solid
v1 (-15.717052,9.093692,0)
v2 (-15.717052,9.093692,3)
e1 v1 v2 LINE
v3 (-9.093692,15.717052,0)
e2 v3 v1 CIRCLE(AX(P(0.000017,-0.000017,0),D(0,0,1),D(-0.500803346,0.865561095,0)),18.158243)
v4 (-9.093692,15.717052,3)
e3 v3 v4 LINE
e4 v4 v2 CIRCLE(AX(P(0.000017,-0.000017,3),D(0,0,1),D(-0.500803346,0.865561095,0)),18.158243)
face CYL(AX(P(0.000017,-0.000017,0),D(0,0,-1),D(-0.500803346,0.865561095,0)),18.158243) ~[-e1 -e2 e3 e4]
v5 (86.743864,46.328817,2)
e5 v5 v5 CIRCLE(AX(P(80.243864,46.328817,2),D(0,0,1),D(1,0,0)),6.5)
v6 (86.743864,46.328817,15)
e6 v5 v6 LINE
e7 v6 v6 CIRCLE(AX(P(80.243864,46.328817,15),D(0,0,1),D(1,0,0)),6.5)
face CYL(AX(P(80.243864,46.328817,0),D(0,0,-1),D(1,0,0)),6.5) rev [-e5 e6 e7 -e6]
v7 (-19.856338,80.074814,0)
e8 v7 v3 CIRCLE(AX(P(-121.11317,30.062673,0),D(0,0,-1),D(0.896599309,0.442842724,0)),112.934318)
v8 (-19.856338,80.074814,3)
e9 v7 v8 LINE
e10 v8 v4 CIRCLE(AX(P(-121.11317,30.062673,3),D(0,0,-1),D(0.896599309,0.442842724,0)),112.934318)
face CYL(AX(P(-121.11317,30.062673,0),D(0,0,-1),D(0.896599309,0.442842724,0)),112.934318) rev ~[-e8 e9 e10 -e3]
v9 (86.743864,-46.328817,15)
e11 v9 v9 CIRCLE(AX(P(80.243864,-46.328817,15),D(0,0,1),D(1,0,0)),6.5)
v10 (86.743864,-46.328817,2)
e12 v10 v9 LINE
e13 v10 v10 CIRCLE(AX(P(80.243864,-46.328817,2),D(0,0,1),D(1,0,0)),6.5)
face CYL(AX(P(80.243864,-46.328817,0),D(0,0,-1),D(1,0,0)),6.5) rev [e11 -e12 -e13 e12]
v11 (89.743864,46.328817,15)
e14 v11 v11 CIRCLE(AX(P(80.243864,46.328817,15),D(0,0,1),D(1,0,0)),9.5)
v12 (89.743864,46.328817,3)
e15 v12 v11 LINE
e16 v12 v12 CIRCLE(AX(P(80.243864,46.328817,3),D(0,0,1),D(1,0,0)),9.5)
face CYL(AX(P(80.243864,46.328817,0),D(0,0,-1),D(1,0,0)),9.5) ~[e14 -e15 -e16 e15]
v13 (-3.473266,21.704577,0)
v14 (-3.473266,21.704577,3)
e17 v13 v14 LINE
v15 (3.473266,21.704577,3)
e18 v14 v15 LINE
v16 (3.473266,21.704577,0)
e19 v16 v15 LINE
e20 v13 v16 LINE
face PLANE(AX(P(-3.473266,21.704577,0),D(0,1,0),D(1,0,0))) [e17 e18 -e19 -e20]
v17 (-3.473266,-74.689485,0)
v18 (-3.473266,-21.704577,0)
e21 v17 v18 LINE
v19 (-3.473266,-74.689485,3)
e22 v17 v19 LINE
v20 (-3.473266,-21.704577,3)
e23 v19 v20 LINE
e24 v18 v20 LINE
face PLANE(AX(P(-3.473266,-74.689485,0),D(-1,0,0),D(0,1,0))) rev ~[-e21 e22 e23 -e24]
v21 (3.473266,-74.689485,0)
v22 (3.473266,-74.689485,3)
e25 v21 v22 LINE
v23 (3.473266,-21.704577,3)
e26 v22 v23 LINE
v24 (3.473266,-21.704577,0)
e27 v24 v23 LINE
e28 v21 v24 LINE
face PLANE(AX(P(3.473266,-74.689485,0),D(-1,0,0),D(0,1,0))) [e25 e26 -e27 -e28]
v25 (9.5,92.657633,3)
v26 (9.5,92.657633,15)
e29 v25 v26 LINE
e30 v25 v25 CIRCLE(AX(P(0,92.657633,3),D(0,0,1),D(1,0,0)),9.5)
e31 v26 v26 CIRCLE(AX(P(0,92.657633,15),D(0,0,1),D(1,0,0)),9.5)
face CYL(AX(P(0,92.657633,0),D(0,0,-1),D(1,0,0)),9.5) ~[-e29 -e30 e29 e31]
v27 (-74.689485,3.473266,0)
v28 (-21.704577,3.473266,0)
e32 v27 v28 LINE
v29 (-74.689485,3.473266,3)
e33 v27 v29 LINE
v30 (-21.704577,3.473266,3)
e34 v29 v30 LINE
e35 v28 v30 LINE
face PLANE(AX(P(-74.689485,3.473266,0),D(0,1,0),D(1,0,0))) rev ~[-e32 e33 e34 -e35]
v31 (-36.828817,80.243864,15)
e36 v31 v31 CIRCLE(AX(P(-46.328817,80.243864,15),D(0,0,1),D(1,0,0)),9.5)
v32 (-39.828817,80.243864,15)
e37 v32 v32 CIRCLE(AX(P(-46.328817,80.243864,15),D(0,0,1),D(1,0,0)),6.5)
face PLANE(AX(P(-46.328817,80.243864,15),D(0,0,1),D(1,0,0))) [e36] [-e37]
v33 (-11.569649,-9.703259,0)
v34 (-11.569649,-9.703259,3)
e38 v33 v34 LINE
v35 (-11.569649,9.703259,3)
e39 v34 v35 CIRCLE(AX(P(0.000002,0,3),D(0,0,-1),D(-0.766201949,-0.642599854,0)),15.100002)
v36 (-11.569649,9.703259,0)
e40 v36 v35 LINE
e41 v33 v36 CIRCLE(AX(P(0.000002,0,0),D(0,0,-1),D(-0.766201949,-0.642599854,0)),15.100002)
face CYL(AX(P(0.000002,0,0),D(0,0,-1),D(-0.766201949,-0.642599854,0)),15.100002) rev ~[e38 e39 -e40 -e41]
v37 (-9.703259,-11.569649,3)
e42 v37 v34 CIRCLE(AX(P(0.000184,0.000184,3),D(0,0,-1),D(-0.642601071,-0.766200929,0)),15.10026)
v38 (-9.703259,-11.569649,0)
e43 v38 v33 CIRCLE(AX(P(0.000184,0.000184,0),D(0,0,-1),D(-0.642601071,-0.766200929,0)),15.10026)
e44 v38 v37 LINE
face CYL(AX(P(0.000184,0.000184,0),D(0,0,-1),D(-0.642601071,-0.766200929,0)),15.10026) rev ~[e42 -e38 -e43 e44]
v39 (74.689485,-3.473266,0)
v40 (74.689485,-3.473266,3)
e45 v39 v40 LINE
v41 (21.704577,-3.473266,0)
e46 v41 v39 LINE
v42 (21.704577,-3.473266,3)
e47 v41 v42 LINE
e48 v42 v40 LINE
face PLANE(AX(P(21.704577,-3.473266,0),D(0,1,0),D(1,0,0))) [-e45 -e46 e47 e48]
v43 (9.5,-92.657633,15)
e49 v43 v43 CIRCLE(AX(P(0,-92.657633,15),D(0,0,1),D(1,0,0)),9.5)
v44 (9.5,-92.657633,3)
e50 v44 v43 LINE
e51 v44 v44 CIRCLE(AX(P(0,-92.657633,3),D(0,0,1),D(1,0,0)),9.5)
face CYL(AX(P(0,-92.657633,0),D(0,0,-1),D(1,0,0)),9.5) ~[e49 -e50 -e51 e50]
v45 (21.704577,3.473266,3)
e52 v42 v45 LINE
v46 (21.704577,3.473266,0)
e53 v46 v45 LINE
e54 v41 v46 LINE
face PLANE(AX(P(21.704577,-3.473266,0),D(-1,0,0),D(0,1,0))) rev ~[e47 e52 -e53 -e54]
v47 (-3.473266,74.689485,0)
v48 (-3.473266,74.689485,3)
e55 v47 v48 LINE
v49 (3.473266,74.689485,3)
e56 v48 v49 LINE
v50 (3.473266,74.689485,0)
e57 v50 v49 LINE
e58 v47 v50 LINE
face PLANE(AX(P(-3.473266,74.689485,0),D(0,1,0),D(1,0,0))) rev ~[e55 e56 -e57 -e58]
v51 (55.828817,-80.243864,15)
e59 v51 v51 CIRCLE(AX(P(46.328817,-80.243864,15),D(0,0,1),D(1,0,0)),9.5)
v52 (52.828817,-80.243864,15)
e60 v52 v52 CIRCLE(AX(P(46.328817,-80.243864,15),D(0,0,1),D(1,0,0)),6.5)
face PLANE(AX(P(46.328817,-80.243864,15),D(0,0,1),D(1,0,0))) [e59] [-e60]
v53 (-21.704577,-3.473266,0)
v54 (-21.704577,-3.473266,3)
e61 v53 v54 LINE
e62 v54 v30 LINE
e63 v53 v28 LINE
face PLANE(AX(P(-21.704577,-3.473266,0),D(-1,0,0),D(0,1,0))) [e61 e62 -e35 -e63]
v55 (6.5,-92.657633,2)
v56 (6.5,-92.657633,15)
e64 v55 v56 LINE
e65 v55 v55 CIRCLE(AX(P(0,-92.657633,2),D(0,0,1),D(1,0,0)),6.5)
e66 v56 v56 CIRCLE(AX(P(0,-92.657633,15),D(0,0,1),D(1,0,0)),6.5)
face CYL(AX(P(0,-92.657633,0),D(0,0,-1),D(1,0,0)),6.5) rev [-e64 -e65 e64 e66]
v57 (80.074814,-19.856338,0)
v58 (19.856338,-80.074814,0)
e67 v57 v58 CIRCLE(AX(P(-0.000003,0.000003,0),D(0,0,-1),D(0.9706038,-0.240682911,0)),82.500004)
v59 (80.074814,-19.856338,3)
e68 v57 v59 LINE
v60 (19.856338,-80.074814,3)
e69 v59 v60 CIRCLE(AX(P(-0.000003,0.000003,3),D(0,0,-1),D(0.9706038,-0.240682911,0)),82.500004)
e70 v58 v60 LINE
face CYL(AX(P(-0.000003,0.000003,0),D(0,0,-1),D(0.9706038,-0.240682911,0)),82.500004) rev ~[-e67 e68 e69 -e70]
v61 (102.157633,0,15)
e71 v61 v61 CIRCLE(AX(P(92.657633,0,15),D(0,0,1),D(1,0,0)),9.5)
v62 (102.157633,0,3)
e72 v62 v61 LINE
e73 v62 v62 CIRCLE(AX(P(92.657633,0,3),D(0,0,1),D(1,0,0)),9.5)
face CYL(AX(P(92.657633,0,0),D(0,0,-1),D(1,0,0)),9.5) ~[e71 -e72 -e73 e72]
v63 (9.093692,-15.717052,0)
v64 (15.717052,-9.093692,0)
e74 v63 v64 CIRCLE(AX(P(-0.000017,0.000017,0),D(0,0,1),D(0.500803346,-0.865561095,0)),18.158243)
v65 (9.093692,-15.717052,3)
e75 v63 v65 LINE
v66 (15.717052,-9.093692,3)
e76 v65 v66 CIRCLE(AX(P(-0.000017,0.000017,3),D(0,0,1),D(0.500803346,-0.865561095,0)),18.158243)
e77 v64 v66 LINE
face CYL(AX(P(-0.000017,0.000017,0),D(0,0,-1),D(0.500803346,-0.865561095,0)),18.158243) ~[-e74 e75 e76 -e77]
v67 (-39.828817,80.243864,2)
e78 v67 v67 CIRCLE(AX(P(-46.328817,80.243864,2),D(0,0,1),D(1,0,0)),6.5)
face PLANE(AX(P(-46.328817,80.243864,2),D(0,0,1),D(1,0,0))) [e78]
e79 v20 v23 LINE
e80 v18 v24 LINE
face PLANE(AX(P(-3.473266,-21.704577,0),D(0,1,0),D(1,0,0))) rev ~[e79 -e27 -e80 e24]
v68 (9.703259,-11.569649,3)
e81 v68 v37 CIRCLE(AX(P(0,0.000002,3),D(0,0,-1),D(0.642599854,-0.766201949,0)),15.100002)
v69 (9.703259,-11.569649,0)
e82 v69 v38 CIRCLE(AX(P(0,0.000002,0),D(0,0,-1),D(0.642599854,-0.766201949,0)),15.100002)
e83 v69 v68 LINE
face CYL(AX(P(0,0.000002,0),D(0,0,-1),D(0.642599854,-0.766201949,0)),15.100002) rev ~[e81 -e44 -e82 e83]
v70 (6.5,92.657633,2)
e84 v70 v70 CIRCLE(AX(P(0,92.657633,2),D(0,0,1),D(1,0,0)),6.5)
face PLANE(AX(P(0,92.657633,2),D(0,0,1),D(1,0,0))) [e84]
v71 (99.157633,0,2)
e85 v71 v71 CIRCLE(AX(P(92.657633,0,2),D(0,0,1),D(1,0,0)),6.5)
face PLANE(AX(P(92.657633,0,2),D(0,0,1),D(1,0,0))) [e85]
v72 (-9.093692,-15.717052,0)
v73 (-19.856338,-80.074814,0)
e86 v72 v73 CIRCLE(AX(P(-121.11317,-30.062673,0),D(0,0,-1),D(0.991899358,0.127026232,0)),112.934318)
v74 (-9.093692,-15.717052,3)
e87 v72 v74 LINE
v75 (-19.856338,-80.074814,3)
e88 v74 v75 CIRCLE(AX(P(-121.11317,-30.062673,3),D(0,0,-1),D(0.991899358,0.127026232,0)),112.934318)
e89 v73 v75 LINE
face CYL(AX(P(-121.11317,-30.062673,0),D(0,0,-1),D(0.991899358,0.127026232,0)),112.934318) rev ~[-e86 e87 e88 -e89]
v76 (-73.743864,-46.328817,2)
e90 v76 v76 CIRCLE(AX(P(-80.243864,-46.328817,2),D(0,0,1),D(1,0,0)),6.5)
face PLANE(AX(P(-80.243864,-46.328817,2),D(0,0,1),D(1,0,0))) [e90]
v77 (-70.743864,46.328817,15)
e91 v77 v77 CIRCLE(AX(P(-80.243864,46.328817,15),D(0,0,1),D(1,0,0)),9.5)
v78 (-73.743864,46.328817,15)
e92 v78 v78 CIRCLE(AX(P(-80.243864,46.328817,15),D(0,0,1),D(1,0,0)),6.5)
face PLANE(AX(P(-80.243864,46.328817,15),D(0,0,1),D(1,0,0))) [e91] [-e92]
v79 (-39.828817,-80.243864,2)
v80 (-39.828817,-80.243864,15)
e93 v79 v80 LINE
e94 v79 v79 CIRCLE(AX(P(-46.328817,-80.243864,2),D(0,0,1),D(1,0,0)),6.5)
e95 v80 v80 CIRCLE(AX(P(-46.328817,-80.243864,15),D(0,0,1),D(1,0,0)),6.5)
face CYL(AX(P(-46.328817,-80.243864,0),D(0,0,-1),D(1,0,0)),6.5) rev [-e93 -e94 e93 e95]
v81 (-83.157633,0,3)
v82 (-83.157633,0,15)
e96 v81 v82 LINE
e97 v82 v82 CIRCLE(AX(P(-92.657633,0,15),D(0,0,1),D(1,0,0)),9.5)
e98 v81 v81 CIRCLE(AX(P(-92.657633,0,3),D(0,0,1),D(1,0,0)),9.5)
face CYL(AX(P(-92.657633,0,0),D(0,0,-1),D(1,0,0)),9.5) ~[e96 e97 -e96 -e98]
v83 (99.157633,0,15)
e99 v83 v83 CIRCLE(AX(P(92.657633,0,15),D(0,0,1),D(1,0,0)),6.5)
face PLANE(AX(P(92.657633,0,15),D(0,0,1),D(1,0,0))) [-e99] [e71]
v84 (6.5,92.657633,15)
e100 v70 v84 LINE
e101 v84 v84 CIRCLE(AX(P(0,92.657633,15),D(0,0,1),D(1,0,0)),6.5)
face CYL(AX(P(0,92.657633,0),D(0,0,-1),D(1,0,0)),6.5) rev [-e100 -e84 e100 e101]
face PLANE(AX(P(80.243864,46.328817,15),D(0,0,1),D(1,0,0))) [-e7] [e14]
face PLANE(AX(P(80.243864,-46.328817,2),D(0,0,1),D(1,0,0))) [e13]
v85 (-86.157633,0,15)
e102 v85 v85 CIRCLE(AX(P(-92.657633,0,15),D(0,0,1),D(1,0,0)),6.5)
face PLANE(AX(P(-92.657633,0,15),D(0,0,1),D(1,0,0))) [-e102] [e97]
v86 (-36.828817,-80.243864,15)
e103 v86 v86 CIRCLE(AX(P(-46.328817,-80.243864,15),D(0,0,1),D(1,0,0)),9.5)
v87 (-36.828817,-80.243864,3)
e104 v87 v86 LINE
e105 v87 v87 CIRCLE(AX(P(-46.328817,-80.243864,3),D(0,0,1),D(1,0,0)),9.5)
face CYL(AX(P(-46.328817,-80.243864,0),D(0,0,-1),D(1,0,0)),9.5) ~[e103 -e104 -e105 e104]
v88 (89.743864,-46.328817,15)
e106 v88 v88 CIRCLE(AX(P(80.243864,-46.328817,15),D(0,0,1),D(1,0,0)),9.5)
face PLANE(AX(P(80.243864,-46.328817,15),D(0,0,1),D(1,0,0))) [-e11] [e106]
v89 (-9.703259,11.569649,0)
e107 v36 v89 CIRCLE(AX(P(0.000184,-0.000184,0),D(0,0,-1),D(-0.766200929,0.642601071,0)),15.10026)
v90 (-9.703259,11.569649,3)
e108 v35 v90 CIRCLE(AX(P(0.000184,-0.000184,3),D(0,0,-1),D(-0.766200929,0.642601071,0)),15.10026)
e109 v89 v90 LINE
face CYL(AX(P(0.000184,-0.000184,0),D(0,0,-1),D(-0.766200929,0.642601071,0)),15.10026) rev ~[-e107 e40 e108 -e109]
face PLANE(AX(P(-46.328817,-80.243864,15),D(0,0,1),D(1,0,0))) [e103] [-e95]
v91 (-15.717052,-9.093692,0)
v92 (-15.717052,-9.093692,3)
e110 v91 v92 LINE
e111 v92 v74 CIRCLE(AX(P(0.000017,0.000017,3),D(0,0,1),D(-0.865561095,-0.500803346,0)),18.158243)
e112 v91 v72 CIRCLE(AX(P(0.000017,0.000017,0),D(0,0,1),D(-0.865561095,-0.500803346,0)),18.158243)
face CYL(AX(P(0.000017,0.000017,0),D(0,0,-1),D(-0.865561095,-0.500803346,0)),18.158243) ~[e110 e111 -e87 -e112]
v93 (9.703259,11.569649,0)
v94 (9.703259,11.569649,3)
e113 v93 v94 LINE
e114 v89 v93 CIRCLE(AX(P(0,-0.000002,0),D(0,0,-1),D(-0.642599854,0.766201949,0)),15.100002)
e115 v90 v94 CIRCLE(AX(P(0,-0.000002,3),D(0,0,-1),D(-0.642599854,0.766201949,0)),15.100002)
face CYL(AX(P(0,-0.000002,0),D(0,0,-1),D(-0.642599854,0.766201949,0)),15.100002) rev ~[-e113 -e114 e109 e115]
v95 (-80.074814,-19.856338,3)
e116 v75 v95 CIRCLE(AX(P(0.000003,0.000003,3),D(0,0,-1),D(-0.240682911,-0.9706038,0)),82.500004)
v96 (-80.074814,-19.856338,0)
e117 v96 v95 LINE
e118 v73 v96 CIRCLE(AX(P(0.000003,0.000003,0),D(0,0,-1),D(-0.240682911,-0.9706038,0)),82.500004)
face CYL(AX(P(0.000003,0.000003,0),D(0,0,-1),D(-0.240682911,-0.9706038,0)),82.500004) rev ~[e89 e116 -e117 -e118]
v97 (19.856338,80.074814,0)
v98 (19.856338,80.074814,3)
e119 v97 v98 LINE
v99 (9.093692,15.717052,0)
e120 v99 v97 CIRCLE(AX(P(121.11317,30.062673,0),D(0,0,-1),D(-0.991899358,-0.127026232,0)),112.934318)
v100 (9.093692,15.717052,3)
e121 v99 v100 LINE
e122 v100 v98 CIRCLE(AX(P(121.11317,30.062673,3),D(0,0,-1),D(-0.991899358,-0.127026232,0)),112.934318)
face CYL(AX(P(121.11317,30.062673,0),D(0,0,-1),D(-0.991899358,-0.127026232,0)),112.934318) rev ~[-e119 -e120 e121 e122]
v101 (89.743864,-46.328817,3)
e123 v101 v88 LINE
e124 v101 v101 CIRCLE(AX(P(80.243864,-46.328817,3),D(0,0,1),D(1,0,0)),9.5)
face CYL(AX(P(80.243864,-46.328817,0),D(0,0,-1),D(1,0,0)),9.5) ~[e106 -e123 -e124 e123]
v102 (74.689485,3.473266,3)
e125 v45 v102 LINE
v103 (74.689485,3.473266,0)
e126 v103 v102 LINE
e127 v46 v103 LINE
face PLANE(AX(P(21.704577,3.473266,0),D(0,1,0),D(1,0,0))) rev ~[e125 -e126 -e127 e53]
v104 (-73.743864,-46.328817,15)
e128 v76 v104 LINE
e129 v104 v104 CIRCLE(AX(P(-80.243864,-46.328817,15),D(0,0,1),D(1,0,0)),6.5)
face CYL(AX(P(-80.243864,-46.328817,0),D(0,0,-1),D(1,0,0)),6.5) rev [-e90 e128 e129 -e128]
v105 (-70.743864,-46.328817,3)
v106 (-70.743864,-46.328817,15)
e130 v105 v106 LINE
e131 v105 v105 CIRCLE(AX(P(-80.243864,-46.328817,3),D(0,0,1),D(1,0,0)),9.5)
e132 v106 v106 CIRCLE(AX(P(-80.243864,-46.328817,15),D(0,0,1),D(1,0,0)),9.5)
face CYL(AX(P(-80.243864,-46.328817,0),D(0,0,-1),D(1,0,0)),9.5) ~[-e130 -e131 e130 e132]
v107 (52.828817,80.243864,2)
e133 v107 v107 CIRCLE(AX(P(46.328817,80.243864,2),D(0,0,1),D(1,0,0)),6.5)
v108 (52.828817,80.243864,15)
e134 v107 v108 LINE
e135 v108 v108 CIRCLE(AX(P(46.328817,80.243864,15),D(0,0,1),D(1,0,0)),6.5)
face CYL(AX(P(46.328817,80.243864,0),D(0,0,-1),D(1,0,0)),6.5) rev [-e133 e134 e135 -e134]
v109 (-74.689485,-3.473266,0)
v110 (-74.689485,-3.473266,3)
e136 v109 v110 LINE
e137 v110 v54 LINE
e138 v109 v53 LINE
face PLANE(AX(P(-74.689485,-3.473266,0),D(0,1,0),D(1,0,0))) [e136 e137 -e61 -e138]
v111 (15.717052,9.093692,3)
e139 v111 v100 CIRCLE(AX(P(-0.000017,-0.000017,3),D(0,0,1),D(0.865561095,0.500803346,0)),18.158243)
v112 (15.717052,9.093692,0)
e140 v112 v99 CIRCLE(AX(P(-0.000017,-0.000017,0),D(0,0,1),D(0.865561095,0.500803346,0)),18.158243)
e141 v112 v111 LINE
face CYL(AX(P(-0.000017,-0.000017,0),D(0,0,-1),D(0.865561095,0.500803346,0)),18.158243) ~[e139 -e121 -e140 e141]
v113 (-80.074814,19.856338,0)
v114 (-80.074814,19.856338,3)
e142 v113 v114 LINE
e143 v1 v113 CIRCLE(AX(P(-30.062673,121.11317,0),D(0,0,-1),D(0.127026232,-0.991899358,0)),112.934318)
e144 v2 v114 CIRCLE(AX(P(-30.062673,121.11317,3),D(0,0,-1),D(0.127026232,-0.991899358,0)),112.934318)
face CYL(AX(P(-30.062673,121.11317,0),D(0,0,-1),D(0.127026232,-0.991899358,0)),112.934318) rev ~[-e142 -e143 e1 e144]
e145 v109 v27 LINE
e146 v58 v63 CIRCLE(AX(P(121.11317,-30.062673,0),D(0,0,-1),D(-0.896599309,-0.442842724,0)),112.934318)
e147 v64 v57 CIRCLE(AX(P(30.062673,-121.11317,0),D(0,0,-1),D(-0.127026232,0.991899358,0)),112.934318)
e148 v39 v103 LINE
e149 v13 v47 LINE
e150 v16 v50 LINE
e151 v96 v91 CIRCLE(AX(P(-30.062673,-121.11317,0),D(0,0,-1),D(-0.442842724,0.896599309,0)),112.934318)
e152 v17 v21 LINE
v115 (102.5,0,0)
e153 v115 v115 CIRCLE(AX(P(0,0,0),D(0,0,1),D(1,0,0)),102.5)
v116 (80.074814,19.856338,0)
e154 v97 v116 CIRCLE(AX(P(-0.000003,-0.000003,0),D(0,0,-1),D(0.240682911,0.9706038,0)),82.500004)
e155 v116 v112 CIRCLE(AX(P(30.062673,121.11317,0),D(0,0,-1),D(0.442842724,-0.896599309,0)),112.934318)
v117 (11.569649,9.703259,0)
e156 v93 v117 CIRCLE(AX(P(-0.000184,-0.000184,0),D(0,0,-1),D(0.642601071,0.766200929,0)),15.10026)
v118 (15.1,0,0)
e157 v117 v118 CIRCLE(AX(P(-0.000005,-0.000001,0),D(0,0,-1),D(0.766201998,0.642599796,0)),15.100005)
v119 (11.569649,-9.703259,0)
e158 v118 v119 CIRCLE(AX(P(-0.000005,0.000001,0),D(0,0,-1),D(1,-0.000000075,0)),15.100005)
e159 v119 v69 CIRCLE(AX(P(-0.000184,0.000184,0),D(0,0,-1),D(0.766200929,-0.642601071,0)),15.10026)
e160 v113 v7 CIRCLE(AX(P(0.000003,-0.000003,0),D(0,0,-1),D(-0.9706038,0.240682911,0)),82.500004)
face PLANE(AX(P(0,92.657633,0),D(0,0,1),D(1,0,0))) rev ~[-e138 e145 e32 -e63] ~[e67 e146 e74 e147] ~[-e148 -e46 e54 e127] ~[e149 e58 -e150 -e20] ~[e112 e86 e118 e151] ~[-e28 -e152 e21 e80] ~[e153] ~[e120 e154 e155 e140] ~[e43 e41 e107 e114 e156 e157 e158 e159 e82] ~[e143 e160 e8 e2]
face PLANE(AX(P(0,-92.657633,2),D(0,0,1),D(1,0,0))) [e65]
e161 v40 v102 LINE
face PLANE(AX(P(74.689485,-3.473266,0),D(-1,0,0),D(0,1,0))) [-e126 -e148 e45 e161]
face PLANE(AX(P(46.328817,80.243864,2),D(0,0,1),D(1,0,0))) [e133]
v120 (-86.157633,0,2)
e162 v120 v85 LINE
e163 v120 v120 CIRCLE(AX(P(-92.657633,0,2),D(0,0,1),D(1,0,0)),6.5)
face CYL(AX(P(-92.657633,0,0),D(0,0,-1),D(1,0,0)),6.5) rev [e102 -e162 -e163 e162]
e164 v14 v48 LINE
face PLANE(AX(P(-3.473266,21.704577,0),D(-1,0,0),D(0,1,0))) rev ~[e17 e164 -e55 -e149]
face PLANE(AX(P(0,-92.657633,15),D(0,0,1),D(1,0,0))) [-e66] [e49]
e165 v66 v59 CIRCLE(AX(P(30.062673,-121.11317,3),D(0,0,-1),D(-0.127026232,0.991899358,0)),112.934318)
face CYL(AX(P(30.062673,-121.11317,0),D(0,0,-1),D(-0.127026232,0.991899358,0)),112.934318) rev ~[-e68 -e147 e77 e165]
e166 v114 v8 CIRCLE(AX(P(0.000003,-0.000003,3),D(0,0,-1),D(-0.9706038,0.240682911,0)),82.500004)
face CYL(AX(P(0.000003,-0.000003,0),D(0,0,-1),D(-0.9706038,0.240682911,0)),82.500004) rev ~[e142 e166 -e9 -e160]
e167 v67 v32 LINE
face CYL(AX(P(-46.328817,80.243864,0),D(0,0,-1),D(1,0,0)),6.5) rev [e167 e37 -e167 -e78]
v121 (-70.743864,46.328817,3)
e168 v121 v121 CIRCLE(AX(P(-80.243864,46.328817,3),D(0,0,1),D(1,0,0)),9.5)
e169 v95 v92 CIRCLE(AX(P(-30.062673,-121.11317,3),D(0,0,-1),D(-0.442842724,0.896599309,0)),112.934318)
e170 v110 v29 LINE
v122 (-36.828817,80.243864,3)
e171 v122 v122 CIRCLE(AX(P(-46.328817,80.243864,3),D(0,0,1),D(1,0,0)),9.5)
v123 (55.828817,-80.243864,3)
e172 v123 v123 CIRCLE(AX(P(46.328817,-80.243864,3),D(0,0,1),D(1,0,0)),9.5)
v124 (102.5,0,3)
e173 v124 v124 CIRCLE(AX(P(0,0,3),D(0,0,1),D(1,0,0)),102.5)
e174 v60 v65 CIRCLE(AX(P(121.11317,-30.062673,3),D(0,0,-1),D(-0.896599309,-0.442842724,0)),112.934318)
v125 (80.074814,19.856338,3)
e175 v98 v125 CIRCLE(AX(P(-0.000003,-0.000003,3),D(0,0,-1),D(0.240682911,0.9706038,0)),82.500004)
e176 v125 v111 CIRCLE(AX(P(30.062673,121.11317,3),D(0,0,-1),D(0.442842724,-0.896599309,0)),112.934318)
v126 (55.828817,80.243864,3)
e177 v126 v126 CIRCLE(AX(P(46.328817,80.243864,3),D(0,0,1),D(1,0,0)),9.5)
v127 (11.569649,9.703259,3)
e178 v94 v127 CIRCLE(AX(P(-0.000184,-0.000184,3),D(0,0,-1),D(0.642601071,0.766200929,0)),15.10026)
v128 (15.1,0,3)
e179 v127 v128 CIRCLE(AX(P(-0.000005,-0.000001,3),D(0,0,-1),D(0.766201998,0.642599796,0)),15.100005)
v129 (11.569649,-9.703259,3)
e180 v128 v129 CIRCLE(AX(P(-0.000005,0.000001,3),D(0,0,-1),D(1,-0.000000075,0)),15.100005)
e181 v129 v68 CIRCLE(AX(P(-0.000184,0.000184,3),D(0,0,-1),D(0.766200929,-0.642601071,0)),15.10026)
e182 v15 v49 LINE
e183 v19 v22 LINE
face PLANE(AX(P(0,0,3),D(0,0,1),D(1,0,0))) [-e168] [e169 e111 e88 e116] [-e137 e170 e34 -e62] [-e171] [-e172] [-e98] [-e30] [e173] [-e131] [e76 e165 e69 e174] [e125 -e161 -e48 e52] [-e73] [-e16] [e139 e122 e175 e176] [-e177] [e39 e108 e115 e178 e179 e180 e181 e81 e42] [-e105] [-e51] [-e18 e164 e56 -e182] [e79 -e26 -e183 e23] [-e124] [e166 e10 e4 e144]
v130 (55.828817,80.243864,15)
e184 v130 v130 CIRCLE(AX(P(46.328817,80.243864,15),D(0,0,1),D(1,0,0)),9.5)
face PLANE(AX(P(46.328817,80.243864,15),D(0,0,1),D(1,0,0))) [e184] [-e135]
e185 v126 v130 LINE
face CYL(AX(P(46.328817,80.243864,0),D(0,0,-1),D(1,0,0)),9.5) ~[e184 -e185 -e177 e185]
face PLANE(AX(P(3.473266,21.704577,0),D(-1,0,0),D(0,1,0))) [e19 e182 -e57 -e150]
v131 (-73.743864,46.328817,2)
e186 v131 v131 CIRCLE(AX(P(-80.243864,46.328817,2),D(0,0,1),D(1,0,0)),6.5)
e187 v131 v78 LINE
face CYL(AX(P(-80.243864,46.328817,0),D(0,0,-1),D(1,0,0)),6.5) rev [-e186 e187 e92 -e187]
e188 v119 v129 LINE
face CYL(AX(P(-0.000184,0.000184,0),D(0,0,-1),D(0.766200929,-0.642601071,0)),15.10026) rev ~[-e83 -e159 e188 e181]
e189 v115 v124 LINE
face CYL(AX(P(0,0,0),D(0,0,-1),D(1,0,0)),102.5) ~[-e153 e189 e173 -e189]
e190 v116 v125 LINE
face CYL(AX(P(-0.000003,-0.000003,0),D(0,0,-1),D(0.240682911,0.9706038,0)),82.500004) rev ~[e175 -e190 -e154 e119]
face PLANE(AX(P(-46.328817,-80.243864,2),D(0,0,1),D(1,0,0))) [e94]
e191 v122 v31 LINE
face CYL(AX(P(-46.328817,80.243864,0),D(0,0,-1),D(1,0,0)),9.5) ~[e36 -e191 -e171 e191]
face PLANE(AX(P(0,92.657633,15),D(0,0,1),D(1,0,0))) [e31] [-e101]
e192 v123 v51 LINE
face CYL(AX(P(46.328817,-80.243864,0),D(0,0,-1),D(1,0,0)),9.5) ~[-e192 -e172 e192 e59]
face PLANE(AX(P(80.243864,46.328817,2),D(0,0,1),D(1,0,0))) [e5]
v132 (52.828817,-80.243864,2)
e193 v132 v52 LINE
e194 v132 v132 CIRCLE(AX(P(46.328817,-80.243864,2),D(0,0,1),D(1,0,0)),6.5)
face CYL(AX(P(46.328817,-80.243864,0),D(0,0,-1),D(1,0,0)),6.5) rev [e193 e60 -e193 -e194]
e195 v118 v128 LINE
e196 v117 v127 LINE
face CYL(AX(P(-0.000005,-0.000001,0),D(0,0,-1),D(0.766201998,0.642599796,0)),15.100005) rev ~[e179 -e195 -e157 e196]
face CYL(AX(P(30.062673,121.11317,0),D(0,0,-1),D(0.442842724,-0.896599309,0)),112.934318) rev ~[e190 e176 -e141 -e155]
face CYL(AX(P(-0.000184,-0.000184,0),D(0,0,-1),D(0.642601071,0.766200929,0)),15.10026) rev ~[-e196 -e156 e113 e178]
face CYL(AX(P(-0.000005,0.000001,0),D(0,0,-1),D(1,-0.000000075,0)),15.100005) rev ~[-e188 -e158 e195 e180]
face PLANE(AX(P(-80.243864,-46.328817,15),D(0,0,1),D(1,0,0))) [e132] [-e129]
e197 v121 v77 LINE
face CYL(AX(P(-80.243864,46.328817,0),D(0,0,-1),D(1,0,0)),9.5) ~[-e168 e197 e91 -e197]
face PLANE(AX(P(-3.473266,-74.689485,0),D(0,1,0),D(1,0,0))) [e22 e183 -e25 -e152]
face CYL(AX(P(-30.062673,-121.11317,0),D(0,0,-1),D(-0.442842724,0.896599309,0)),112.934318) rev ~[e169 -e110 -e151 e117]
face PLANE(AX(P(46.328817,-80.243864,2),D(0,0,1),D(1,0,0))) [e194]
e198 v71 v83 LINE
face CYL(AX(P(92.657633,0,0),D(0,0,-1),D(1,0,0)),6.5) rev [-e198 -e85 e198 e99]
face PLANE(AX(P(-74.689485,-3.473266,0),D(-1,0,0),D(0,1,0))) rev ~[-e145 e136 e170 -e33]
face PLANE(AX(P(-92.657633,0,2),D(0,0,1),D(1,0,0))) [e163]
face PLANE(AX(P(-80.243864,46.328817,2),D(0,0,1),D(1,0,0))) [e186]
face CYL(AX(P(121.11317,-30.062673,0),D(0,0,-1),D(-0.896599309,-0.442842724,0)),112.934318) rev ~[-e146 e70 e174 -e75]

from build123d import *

# Parameters (mm, degrees)
F0_R     = 102.5
F0_R_2   = 9.5
F0_W     = 52.984908
F0_H     = 6.946532
F0_W_2   = 6.946532
F0_H_2   = 52.984908
F1_DEPTH = 3
F0_R_3   = 6.5
F2_DEPTH = 15
F3_DEPTH = 2


with BuildPart() as f1:
    # F0 (on Top) → F1 (new body)
    with BuildSketch(Plane.XY):
        Circle(F0_R)
        with Locations((-46.328817, -80.243864)):
            Circle(F0_R_2, mode=Mode.SUBTRACT)
        with Locations((-80.243864, -46.328817)):
            Circle(F0_R_2, mode=Mode.SUBTRACT)
        with Locations((0, -92.657633)):
            Circle(F0_R_2, mode=Mode.SUBTRACT)
        with Locations((46.328817, -80.243864)):
            Circle(F0_R_2, mode=Mode.SUBTRACT)
        with Locations((80.243864, -46.328817)):
            Circle(F0_R_2, mode=Mode.SUBTRACT)
        with Locations((-92.657633, 0)):
            Circle(F0_R_2, mode=Mode.SUBTRACT)
        with Locations((-80.243864, 46.328817)):
            Circle(F0_R_2, mode=Mode.SUBTRACT)
        with Locations((-46.328817, 80.243864)):
            Circle(F0_R_2, mode=Mode.SUBTRACT)
        with BuildLine():
            ThreePointArc((80.074814, 19.856338), (81.891459, 10.001946), (82.5, 0))
            ThreePointArc((82.5, 0), (81.891459, -10.001946), (80.074814, -19.856338))
            ThreePointArc((80.074814, -19.856338), (58.336309, -58.336309), (19.856338, -80.074814))
            ThreePointArc((19.856338, -80.074814), (0, -82.5), (-19.856338, -80.074814))
            ThreePointArc((-19.856338, -80.074814), (-58.336309, -58.336309), (-80.074814, -19.856338))
            ThreePointArc((-80.074814, -19.856338), (-82.5, 0), (-80.074814, 19.856338))
            ThreePointArc((-80.074814, 19.856338), (-58.336309, 58.336309), (-19.856338, 80.074814))
            ThreePointArc((-19.856338, 80.074814), (0, 82.5), (19.856338, 80.074814))
            ThreePointArc((19.856338, 80.074814), (58.336309, 58.336309), (80.074814, 19.856338))
        make_face(mode=Mode.SUBTRACT)
        with Locations((92.657633, 0)):
            Circle(F0_R_2, mode=Mode.SUBTRACT)
        with Locations((80.243864, 46.328817)):
            Circle(F0_R_2, mode=Mode.SUBTRACT)
        with Locations((0, 92.657633)):
            Circle(F0_R_2, mode=Mode.SUBTRACT)
        with Locations((46.328817, 80.243864)):
            Circle(F0_R_2, mode=Mode.SUBTRACT)
        with Locations((-48.197031, 0)):
            Rectangle(F0_W, F0_H)
        with BuildLine():
            ThreePointArc((-15.717052, 9.093692), (-48.690174, 9.725664), (-80.074814, 19.856338))
            ThreePointArc((-80.074814, 19.856338), (-82.5, 0), (-80.074814, -19.856338))
            ThreePointArc((-80.074814, -19.856338), (-48.690174, -9.725664), (-15.717052, -9.093692))
            ThreePointArc((-15.717052, -9.093692), (-18.15822, 0), (-15.717052, 9.093692))
        make_face()
        with Locations((-48.197031, 0)):
            Rectangle(F0_W, F0_H, mode=Mode.SUBTRACT)
        with BuildLine():
            ThreePointArc((-11.569649, 9.703259), (-13.640522, 9.379231), (-15.717052, 9.093692))
            ThreePointArc((-15.717052, 9.093692), (-18.15822, 0), (-15.717052, -9.093692))
            ThreePointArc((-15.717052, -9.093692), (-13.640522, -9.379231), (-11.569649, -9.703259))
            ThreePointArc((-11.569649, -9.703259), (-15.1, 0), (-11.569649, 9.703259))
        make_face()
        with BuildLine():
            ThreePointArc((-9.703259, 11.569649), (-9.379231, 13.640522), (-9.093692, 15.717052))
            ThreePointArc((-9.093692, 15.717052), (-12.8398, 12.8398), (-15.717052, 9.093692))
            ThreePointArc((-15.717052, 9.093692), (-13.640522, 9.379231), (-11.569649, 9.703259))
            ThreePointArc((-11.569649, 9.703259), (-10.677312, 10.677312), (-9.703259, 11.569649))
        make_face()
        with BuildLine():
            ThreePointArc((9.703259, 11.569649), (9.379231, 13.640522), (9.093692, 15.717052))
            ThreePointArc((9.093692, 15.717052), (0, 18.15822), (-9.093692, 15.717052))
            ThreePointArc((-9.093692, 15.717052), (-9.379231, 13.640522), (-9.703259, 11.569649))
            ThreePointArc((-9.703259, 11.569649), (0, 15.1), (9.703259, 11.569649))
        make_face()
        with BuildLine():
            ThreePointArc((11.569649, 9.703259), (13.640522, 9.379231), (15.717052, 9.093692))
            ThreePointArc((15.717052, 9.093692), (12.8398, 12.8398), (9.093692, 15.717052))
            ThreePointArc((9.093692, 15.717052), (9.379231, 13.640522), (9.703259, 11.569649))
            ThreePointArc((9.703259, 11.569649), (10.677312, 10.677312), (11.569649, 9.703259))
        make_face()
        with BuildLine():
            ThreePointArc((18.15822, 0), (17.537312, 4.707827), (15.717052, 9.093692))
            ThreePointArc((15.717052, 9.093692), (13.640522, 9.379231), (11.569649, 9.703259))
            ThreePointArc((11.569649, 9.703259), (14.189991, 5.162766), (15.1, 0))
            ThreePointArc((15.1, 0), (14.189991, -5.162766), (11.569649, -9.703259))
            ThreePointArc((11.569649, -9.703259), (13.640522, -9.379231), (15.717052, -9.093692))
            ThreePointArc((15.717052, -9.093692), (17.537312, -4.707827), (18.15822, 0))
        make_face()
        with BuildLine():
            ThreePointArc((80.074814, -19.856338), (81.891459, -10.001946), (82.5, 0))
            ThreePointArc((82.5, 0), (81.891459, 10.001946), (80.074814, 19.856338))
            ThreePointArc((80.074814, 19.856338), (48.690174, 9.725664), (15.717052, 9.093692))
            ThreePointArc((15.717052, 9.093692), (17.537312, 4.707827), (18.15822, 0))
            ThreePointArc((18.15822, 0), (17.537312, -4.707827), (15.717052, -9.093692))
            ThreePointArc((15.717052, -9.093692), (48.690174, -9.725664), (80.074814, -19.856338))
        make_face()
        with Locations((48.197031, 0)):
            Rectangle(F0_W, F0_H, mode=Mode.SUBTRACT)
        with BuildLine():
            ThreePointArc((-19.856338, -80.074814), (0, -82.5), (19.856338, -80.074814))
            ThreePointArc((19.856338, -80.074814), (9.725664, -48.690174), (9.093692, -15.717052))
            ThreePointArc((9.093692, -15.717052), (0, -18.15822), (-9.093692, -15.717052))
            ThreePointArc((-9.093692, -15.717052), (-9.725664, -48.690174), (-19.856338, -80.074814))
        make_face()
        with Locations((0, -48.197031)):
            Rectangle(F0_W_2, F0_H_2, mode=Mode.SUBTRACT)
        with BuildLine():
            ThreePointArc((-9.093692, -15.717052), (0, -18.15822), (9.093692, -15.717052))
            ThreePointArc((9.093692, -15.717052), (9.379231, -13.640522), (9.703259, -11.569649))
            ThreePointArc((9.703259, -11.569649), (0, -15.1), (-9.703259, -11.569649))
            ThreePointArc((-9.703259, -11.569649), (-9.379231, -13.640522), (-9.093692, -15.717052))
        make_face()
        with BuildLine():
            ThreePointArc((9.093692, -15.717052), (12.8398, -12.8398), (15.717052, -9.093692))
            ThreePointArc((15.717052, -9.093692), (13.640522, -9.379231), (11.569649, -9.703259))
            ThreePointArc((11.569649, -9.703259), (10.677312, -10.677312), (9.703259, -11.569649))
            ThreePointArc((9.703259, -11.569649), (9.379231, -13.640522), (9.093692, -15.717052))
        make_face()
        with BuildLine():
            ThreePointArc((-15.717052, -9.093692), (-12.8398, -12.8398), (-9.093692, -15.717052))
            ThreePointArc((-9.093692, -15.717052), (-9.379231, -13.640522), (-9.703259, -11.569649))
            ThreePointArc((-9.703259, -11.569649), (-10.677312, -10.677312), (-11.569649, -9.703259))
            ThreePointArc((-11.569649, -9.703259), (-13.640522, -9.379231), (-15.717052, -9.093692))
        make_face()
        with BuildLine():
            ThreePointArc((9.093692, 15.717052), (9.725664, 48.690174), (19.856338, 80.074814))
            ThreePointArc((19.856338, 80.074814), (0, 82.5), (-19.856338, 80.074814))
            ThreePointArc((-19.856338, 80.074814), (-9.725664, 48.690174), (-9.093692, 15.717052))
            ThreePointArc((-9.093692, 15.717052), (0, 18.15822), (9.093692, 15.717052))
        make_face()
        with Locations((0, 48.197031)):
            Rectangle(F0_W_2, F0_H_2, mode=Mode.SUBTRACT)
    extrude(amount=F1_DEPTH)

    # F0 (on Top) → F2 (join)
    with BuildSketch(Plane.XY):
        with Locations((80.243864, 46.328817)):
            Circle(F0_R_2)
        with Locations((80.243864, 46.328817)):
            Circle(F0_R_3, mode=Mode.SUBTRACT)
        with Locations((92.657633, 0)):
            Circle(F0_R_2)
        with Locations((92.657633, 0)):
            Circle(F0_R_3, mode=Mode.SUBTRACT)
        with Locations((80.243864, -46.328817)):
            Circle(F0_R_2)
        with Locations((80.243864, -46.328817)):
            Circle(F0_R_3, mode=Mode.SUBTRACT)
        with Locations((46.328817, -80.243864)):
            Circle(F0_R_2)
        with Locations((46.328817, -80.243864)):
            Circle(F0_R_3, mode=Mode.SUBTRACT)
        with Locations((0, -92.657633)):
            Circle(F0_R_2)
        with Locations((0, -92.657633)):
            Circle(F0_R_3, mode=Mode.SUBTRACT)
        with Locations((-46.328817, -80.243864)):
            Circle(F0_R_2)
        with Locations((-46.328817, -80.243864)):
            Circle(F0_R_3, mode=Mode.SUBTRACT)
        with Locations((-80.243864, -46.328817)):
            Circle(F0_R_2)
        with Locations((-80.243864, -46.328817)):
            Circle(F0_R_3, mode=Mode.SUBTRACT)
        with Locations((-92.657633, 0)):
            Circle(F0_R_2)
        with Locations((-92.657633, 0)):
            Circle(F0_R_3, mode=Mode.SUBTRACT)
        with Locations((-80.243864, 46.328817)):
            Circle(F0_R_2)
        with Locations((-80.243864, 46.328817)):
            Circle(F0_R_3, mode=Mode.SUBTRACT)
        with Locations((46.328817, 80.243864)):
            Circle(F0_R_2)
        with Locations((46.328817, 80.243864)):
            Circle(F0_R_3, mode=Mode.SUBTRACT)
        with Locations((0, 92.657633)):
            Circle(F0_R_2)
        with Locations((0, 92.657633)):
            Circle(F0_R_3, mode=Mode.SUBTRACT)
        with Locations((-46.328817, 80.243864)):
            Circle(F0_R_2)
        with Locations((-46.328817, 80.243864)):
            Circle(F0_R_3, mode=Mode.SUBTRACT)
    extrude(amount=F2_DEPTH)

    # F0 (on Top) → F3 (join)
    with BuildSketch(Plane.XY):
        with Locations((0, 92.657633)):
            Circle(F0_R_3)
        with Locations((46.328817, 80.243864)):
            Circle(F0_R_3)
        with Locations((80.243864, 46.328817)):
            Circle(F0_R_3)
        with Locations((92.657633, 0)):
            Circle(F0_R_3)
        with Locations((80.243864, -46.328817)):
            Circle(F0_R_3)
        with Locations((46.328817, -80.243864)):
            Circle(F0_R_3)
        with Locations((0, -92.657633)):
            Circle(F0_R_3)
        with Locations((-46.328817, -80.243864)):
            Circle(F0_R_3)
        with Locations((-80.243864, -46.328817)):
            Circle(F0_R_3)
        with Locations((-92.657633, 0)):
            Circle(F0_R_3)
        with Locations((-80.243864, 46.328817)):
            Circle(F0_R_3)
        with Locations((-46.328817, 80.243864)):
            Circle(F0_R_3)
    extrude(amount=F3_DEPTH)


solid = f1.part
